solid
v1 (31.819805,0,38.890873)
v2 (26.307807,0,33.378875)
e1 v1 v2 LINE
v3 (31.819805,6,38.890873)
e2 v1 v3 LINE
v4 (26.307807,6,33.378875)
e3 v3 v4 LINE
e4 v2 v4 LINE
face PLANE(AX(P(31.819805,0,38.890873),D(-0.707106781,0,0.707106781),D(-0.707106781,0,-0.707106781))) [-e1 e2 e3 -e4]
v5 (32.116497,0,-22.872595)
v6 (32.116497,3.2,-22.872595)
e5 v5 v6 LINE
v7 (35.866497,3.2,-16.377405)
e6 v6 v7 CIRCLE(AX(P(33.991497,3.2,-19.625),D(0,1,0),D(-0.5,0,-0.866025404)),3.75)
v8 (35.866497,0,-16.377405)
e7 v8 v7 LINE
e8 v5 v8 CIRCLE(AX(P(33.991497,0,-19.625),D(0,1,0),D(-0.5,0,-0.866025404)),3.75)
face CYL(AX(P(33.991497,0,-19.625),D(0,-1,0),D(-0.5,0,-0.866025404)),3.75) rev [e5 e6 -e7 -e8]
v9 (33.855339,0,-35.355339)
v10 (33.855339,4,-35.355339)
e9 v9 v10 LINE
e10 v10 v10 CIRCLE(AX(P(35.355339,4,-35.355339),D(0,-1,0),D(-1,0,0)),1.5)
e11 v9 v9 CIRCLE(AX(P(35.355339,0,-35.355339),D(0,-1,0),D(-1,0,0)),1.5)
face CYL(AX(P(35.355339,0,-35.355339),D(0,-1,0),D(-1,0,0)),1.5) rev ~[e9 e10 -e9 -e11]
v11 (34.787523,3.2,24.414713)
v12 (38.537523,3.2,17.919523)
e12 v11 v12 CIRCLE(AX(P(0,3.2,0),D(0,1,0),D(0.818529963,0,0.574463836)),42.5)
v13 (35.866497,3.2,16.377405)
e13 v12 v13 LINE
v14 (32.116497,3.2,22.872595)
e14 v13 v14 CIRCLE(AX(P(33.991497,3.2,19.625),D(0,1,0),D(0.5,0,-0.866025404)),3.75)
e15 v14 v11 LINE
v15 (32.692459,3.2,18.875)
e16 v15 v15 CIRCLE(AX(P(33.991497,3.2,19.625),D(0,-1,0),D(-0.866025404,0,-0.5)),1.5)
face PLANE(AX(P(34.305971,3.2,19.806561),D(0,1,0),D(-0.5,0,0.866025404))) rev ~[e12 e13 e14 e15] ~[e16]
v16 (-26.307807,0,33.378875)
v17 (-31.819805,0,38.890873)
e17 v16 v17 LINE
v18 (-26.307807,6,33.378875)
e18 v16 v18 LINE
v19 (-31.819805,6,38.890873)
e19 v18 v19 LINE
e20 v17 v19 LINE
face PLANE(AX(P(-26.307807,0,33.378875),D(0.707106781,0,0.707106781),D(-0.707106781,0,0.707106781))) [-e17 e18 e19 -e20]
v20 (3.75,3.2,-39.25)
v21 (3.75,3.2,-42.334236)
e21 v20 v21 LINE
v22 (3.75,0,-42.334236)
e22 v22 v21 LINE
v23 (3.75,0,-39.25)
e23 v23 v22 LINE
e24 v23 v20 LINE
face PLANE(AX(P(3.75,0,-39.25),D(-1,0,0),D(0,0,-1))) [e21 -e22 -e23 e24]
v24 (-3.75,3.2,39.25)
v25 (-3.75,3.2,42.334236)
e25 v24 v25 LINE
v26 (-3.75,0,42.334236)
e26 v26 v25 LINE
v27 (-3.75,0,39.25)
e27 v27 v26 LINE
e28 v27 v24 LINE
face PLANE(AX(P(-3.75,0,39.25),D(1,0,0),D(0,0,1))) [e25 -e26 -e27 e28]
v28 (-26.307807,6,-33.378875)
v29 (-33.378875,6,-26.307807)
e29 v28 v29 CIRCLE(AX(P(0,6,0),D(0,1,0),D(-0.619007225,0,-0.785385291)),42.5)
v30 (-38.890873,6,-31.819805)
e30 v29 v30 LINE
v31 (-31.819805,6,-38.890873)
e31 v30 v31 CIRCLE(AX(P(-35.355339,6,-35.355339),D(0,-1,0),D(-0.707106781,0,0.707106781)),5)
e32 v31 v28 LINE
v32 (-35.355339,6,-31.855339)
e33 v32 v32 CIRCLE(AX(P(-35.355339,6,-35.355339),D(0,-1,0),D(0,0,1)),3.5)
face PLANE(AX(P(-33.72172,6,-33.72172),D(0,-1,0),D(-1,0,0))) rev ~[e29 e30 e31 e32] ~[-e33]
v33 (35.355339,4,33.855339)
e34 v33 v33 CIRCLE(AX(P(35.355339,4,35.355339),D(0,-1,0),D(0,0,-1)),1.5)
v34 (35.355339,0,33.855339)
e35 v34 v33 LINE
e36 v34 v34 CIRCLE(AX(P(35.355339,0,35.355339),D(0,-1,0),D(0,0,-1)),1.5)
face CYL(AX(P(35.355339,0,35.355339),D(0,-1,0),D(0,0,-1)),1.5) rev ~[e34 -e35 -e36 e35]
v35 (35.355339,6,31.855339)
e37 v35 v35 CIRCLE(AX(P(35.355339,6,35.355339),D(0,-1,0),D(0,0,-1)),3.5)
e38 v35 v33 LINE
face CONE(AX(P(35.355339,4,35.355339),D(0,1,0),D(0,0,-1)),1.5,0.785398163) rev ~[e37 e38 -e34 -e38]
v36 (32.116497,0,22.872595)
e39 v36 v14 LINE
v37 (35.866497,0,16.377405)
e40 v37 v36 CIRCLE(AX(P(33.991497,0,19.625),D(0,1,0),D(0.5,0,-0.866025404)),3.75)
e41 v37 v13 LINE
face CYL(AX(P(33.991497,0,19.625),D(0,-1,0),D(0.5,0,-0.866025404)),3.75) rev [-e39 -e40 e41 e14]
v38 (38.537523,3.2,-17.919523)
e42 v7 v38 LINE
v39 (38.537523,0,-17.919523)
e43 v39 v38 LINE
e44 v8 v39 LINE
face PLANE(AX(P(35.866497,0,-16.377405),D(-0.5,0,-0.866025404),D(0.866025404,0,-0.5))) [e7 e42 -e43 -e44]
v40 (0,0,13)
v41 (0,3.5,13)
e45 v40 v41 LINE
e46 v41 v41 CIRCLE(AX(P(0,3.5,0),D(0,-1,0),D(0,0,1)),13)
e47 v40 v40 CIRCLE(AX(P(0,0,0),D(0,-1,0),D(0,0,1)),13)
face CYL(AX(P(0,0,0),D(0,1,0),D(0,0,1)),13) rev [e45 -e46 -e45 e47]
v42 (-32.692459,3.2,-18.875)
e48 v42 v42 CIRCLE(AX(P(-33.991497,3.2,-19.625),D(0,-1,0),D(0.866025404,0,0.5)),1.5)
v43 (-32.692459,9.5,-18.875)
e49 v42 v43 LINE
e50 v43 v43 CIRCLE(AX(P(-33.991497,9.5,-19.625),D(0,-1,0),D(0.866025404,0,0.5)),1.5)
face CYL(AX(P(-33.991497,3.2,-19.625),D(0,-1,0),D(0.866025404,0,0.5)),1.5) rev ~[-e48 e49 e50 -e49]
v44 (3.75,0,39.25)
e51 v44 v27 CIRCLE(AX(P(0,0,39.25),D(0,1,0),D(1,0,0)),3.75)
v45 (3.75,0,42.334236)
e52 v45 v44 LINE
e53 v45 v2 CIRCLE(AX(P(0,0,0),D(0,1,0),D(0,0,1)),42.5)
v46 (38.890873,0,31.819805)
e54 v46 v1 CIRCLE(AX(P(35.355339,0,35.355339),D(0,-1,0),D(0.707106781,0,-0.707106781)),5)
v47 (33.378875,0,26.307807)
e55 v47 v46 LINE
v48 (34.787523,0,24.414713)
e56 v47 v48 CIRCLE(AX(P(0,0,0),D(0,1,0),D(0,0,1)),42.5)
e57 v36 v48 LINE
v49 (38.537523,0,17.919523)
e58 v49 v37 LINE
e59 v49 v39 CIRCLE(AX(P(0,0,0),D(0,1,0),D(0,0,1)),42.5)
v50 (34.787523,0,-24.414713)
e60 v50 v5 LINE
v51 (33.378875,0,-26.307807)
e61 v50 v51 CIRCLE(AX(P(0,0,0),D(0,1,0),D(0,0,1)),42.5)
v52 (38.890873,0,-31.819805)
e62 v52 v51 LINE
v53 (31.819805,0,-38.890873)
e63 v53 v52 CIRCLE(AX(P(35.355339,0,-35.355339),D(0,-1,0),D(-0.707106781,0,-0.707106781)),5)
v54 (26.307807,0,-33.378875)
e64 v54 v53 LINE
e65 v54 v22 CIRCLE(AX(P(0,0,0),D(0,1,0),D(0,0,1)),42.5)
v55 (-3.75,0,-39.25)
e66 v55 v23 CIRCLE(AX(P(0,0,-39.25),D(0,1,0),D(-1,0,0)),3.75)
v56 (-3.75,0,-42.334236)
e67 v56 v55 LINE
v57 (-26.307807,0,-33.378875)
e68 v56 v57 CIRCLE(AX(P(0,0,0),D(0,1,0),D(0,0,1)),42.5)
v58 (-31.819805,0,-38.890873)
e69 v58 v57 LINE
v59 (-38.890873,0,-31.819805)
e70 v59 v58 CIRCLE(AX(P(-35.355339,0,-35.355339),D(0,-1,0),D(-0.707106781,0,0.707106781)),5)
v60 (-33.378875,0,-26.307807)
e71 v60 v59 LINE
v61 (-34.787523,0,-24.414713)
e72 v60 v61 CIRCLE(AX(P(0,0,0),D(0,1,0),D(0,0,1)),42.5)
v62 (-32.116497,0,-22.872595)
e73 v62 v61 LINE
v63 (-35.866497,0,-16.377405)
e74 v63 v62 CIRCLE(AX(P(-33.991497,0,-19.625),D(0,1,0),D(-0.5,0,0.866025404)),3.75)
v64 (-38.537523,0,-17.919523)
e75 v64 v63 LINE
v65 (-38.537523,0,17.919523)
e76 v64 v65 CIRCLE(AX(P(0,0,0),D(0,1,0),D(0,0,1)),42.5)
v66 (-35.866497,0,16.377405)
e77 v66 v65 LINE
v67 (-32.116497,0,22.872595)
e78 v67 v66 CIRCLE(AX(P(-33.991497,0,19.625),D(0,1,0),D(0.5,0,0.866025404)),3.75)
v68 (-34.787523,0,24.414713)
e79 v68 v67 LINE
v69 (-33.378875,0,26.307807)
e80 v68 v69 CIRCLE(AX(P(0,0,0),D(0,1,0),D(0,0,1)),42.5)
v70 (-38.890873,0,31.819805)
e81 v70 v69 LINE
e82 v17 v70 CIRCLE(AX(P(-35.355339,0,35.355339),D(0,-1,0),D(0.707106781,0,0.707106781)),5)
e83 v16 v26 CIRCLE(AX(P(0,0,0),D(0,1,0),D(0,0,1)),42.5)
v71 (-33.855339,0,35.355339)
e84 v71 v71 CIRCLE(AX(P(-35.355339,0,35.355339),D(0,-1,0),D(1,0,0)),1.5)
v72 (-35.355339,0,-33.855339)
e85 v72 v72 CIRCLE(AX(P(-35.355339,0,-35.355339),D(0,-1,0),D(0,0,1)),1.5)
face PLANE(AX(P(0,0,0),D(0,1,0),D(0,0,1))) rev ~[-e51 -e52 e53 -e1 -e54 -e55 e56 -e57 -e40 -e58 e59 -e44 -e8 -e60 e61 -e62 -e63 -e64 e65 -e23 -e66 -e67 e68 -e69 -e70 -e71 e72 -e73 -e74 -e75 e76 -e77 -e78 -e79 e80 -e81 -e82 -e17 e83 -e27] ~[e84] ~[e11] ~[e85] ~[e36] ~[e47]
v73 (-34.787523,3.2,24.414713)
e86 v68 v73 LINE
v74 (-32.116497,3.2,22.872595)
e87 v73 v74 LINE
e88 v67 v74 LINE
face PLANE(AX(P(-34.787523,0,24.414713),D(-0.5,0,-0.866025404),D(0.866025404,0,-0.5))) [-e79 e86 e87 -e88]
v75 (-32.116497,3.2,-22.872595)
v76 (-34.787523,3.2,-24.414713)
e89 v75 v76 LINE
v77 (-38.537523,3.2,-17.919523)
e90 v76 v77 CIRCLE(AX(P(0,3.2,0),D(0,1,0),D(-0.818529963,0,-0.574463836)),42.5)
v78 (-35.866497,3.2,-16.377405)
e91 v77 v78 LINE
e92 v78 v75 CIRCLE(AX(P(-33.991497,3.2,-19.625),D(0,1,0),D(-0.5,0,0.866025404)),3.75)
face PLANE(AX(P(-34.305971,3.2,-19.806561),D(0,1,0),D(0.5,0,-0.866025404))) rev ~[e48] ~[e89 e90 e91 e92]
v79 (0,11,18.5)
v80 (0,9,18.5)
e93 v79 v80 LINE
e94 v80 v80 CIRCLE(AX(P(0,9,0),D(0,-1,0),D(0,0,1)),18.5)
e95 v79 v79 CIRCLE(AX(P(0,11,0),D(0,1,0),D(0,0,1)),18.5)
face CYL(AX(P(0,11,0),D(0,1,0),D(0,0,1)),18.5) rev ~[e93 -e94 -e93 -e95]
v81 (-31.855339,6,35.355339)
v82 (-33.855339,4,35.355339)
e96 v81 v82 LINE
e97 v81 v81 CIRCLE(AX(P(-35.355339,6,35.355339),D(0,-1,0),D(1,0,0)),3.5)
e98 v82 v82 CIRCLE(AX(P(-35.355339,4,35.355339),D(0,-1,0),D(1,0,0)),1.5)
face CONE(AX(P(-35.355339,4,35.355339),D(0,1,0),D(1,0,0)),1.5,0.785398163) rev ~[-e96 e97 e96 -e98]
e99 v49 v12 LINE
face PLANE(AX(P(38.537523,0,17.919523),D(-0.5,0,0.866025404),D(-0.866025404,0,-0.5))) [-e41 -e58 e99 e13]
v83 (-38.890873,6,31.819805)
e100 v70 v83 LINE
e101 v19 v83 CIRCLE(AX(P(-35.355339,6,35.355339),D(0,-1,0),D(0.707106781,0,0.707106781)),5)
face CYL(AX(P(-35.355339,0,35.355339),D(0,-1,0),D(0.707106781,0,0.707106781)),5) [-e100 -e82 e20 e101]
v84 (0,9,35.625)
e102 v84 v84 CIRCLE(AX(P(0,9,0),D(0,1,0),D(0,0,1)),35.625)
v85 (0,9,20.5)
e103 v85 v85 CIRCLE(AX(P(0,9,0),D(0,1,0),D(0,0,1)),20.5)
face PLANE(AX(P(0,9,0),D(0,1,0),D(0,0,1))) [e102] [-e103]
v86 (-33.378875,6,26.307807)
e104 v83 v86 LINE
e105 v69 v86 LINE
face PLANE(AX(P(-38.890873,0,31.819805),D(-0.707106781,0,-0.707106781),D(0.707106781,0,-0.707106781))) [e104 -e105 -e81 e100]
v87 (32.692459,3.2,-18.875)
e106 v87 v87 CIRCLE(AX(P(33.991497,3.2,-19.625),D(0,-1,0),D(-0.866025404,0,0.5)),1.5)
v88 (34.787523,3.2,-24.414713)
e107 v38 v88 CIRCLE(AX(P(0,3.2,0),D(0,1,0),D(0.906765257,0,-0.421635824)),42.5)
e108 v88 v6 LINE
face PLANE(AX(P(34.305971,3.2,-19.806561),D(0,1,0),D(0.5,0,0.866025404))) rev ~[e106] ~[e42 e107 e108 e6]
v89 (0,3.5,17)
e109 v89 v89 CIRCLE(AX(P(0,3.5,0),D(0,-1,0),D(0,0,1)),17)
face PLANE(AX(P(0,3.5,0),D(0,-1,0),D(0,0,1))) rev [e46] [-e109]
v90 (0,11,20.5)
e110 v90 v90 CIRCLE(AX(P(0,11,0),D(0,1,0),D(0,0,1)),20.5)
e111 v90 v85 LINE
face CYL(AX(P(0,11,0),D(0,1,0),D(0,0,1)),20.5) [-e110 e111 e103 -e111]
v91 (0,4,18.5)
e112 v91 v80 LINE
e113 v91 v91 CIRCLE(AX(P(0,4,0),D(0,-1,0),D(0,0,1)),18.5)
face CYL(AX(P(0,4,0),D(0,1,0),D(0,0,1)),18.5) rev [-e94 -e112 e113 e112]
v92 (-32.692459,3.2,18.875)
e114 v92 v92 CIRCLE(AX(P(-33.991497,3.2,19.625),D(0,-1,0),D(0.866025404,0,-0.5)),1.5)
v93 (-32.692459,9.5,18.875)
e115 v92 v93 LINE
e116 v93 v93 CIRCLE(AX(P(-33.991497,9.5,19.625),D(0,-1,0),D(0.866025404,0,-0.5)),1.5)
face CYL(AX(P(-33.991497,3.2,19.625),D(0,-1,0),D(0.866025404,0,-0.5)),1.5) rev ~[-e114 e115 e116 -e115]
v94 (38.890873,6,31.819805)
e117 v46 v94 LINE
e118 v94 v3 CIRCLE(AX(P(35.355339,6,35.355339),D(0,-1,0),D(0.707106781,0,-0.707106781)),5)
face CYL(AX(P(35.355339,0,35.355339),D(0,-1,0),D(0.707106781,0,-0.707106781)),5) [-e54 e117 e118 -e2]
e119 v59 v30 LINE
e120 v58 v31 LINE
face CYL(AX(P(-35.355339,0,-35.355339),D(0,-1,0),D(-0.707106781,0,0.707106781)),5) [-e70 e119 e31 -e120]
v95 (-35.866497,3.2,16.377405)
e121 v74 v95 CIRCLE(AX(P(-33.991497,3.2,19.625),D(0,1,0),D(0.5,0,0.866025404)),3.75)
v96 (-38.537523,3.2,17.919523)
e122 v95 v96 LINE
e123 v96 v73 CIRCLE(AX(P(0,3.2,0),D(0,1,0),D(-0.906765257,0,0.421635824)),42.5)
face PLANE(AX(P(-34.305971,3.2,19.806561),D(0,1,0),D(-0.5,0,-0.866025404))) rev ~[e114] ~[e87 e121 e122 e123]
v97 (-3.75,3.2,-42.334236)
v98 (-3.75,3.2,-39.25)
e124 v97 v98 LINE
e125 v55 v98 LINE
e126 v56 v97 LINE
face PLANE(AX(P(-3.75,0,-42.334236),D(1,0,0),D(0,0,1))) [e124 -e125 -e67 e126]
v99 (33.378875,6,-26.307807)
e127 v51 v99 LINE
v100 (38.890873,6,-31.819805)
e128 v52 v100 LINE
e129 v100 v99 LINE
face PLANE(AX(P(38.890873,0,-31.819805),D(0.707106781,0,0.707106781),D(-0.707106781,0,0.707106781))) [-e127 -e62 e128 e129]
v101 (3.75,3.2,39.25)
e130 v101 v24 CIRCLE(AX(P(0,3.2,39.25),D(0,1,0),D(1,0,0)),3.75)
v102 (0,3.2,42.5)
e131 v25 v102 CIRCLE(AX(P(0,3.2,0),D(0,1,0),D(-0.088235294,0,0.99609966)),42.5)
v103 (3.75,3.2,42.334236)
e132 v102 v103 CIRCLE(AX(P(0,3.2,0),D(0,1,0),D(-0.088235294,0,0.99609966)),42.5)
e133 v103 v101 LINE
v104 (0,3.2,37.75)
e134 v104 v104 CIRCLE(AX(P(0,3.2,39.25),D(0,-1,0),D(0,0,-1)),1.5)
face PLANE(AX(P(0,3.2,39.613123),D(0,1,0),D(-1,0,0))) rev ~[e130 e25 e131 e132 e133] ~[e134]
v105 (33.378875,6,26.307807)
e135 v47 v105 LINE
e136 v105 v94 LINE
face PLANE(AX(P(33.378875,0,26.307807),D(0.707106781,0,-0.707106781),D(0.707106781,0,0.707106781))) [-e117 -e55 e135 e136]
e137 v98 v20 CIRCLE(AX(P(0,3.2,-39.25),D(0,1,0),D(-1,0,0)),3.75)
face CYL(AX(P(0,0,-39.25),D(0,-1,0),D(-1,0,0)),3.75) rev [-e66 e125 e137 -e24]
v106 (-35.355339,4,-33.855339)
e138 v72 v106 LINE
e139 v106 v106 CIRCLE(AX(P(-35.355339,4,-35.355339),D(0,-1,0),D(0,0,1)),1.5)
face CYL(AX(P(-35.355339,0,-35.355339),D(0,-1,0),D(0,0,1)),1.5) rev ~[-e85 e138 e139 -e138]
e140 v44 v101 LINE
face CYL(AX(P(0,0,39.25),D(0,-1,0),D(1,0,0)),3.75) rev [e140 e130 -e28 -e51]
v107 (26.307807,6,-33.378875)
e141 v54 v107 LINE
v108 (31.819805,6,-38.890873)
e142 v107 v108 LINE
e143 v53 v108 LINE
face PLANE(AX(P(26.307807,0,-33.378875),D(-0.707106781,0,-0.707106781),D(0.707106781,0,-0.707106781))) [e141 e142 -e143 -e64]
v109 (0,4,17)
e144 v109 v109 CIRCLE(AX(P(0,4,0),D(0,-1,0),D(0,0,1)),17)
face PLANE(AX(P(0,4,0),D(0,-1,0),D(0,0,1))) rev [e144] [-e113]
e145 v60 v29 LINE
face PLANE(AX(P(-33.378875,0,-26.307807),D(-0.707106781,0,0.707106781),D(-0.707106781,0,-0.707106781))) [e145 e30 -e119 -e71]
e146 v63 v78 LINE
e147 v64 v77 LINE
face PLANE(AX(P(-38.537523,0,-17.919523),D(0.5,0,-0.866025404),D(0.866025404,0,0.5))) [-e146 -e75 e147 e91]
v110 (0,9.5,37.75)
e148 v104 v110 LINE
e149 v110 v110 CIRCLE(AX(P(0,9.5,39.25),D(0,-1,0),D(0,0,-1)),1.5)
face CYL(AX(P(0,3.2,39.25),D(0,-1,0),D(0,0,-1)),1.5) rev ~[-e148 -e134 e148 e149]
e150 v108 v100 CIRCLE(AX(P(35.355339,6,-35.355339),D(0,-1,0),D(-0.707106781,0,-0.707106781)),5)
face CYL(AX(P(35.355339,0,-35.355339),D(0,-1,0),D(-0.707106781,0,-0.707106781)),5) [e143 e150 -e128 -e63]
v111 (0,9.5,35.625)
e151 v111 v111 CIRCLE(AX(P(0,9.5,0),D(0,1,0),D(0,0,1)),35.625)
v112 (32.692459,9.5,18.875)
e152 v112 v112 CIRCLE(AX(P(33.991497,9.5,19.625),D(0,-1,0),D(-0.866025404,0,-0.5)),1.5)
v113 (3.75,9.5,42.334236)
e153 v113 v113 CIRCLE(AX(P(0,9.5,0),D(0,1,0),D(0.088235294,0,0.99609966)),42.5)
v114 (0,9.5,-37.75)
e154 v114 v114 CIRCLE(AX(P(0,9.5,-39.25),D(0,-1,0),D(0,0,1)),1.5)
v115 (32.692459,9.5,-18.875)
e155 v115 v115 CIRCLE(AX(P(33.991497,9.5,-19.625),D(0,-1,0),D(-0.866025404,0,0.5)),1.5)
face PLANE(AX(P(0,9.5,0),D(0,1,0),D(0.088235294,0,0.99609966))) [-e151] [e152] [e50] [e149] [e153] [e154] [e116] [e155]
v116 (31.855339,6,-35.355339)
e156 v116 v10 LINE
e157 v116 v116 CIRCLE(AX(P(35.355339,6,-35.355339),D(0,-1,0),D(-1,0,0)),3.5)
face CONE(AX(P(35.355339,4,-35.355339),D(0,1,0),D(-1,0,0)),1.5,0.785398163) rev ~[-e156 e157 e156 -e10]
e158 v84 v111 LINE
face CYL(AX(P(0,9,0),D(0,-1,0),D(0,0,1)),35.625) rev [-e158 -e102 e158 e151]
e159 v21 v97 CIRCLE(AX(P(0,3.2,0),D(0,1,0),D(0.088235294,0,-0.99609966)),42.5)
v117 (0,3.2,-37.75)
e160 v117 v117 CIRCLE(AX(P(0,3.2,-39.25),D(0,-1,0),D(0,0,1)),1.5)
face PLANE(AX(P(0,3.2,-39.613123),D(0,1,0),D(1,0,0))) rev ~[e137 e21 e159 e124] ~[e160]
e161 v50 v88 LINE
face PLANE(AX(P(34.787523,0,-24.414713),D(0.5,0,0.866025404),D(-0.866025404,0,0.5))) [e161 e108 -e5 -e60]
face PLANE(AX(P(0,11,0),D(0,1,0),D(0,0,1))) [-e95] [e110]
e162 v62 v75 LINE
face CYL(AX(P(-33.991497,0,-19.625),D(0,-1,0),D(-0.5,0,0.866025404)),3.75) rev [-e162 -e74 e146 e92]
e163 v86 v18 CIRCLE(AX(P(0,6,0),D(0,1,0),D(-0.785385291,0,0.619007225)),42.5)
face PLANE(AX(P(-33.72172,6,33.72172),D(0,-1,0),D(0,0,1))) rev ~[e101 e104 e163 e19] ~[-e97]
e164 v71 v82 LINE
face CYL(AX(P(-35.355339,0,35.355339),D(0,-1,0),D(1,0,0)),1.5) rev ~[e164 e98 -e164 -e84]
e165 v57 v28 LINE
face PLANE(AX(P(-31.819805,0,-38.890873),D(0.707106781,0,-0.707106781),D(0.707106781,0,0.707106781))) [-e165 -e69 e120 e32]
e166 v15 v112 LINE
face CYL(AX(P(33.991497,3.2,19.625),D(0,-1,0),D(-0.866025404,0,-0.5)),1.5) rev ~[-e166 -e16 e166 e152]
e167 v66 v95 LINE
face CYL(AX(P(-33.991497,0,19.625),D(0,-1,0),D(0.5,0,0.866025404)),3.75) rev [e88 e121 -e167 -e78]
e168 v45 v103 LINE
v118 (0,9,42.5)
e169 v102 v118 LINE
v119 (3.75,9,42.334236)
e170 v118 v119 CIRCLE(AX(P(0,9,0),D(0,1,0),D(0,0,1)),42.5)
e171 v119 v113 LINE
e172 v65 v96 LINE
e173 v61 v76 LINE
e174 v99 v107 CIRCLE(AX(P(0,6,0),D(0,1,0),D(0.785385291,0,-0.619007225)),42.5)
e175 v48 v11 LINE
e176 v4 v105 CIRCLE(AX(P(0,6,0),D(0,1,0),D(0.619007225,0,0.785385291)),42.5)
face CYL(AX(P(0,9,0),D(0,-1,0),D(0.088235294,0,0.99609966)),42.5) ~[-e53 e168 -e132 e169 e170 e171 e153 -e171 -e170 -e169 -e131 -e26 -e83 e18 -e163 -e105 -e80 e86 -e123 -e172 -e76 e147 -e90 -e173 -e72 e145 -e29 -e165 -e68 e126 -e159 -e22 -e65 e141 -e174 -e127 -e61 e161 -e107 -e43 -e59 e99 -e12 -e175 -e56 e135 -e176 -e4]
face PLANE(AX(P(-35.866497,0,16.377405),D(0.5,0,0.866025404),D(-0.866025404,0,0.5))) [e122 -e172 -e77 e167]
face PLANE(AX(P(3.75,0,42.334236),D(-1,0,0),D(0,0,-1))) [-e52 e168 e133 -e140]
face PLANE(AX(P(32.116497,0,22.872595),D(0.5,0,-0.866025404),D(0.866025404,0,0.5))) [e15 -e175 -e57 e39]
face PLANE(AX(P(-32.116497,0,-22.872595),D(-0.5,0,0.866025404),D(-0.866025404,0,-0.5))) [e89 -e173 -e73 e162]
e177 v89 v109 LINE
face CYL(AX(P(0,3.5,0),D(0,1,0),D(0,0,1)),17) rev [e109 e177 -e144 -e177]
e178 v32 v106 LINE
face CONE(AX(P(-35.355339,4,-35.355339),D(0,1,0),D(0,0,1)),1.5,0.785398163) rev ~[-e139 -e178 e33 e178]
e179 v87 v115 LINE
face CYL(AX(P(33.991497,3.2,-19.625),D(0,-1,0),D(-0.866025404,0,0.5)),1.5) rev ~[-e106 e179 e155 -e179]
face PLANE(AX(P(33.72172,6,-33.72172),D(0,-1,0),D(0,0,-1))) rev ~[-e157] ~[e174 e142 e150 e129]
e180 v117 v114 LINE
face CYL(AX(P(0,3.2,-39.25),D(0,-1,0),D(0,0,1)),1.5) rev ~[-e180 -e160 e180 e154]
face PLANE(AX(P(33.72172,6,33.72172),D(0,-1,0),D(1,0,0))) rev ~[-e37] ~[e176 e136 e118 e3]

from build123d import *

# Parameters (mm, degrees)
ESBO_O1_R                = 42.5
RESSALTO_EXTRUS_O1_DEPTH = 9
RESSALTO_EXTRUS_O2_START = 2
ESBO_O3_R                = 20.5
ESBO_O3_R_2              = 18.5
RESSALTO_EXTRUS_O2_DEPTH = 2
CORTE_EXTRUS_O1_DEPTH    = 3.2
ESBO_O9_R                = 42.5
ESBO_O9_R_2              = 35.625
RESSALTO_EXTRUS_O4_DEPTH = 0.5
ESBO_O5_R                = 1.5
CORTE_EXTRUS_O2_DEPTH    = 10
PADR_OCIRCULAR1_COUNT    = 6
RESSALTO_EXTRUS_O3_DEPTH = 6
ESBO_O8_R                = 1.5
CORTE_EXTRUS_O3_DEPTH    = 10
PADR_OCIRCULAR2_COUNT    = 4
CHANFRO1_SIZE            = 2


with BuildPart() as part:
    # Esboço1 → Ressalto-extrusão1 (new body)
    with BuildSketch(Plane(origin=(0, 0, 0), x_dir=(1, 0, 0), z_dir=(0, 1, 0))):
        with Locations(Location((0, 0, 0), (0, 0, 270))):
            Circle(ESBO_O1_R)
    extrude(amount=RESSALTO_EXTRUS_O1_DEPTH)

    # Esboço2 → Corte-Revolução1 (revolve, cut)
    with BuildSketch(Plane(origin=(0, 0, 0), x_dir=(0, 0, -1), z_dir=(1, 0, 0))):
        Polygon((0, 0), (-13, 0), (-13, 3.5), (-17, 3.5), (-17, 4), (-18.5, 4), (-18.5, 9), (0, 9), align=None)
    revolve(axis=Axis((0, 9, 0), (0, -1, 0)), mode=Mode.SUBTRACT)

    # Esboço3 → Ressalto-extrusão2 (add)
    with BuildSketch(Plane(origin=(0, 9, 0), x_dir=(1, 0, 0), z_dir=(0, 1, 0)).offset(RESSALTO_EXTRUS_O2_START)):
        with Locations(Location((0, 0, 0), (0, 0, 270))):
            Circle(ESBO_O3_R)
        with Locations(Location((0, 0, 0), (0, 0, 270))):
            Circle(ESBO_O3_R_2, mode=Mode.SUBTRACT)
    extrude(amount=-RESSALTO_EXTRUS_O2_DEPTH)

    # Esboço4 → Corte-extrusão1 (cut)
    with BuildSketch(Plane.XZ):
        with BuildLine():
            Line((-3.75, 39.25), (-3.75, 42.334235555))
            ThreePointArc((-3.75, 42.334235555), (0, 42.5), (3.75, 42.334235555))
            Line((3.75, 42.334235555), (3.75, 39.25))
            ThreePointArc((3.75, 39.25), (0, 35.5), (-3.75, 39.25))
        make_face()
    corte_extrus_o1 = extrude(amount=-CORTE_EXTRUS_O1_DEPTH, mode=Mode.SUBTRACT)

    # Esboço9 → Ressalto-extrusão4 (add)
    with BuildSketch(Plane(origin=(0, 9, 0), x_dir=(1, 0, 0), z_dir=(0, 1, 0))):
        with Locations(Location((0, 0, 0), (0, 0, 275.062092964))):
            Circle(ESBO_O9_R)
        with Locations(Location((0, 0, 0), (0, 0, 270))):
            Circle(ESBO_O9_R_2, mode=Mode.SUBTRACT)
    extrude(amount=RESSALTO_EXTRUS_O4_DEPTH)

    # Esboço5 → Corte-extrusão2 (cut)
    with BuildSketch(Plane.XZ.offset(-3.2)):
        with Locations(Location((0, 39.25, 0), (0, 0, 270))):
            Circle(ESBO_O5_R)
    corte_extrus_o2 = extrude(amount=-CORTE_EXTRUS_O2_DEPTH, mode=Mode.SUBTRACT)

    # PadrãoCircular1: Corte-extrusão1, Corte-extrusão2 ×6 about axis
    padr_ocircular1_axis = Axis((0, 0, 0), (0, 1, 0))
    add([corte_extrus_o1.rotate(padr_ocircular1_axis, i * 360 / PADR_OCIRCULAR1_COUNT) for i in range(1, PADR_OCIRCULAR1_COUNT)], mode=Mode.SUBTRACT)
    add([corte_extrus_o2.rotate(padr_ocircular1_axis, i * 360 / PADR_OCIRCULAR1_COUNT) for i in range(1, PADR_OCIRCULAR1_COUNT)], mode=Mode.SUBTRACT)

    # Esboço6 → Ressalto-extrusão3 (add)
    with BuildSketch(Plane.XZ):
        with BuildLine():
            ThreePointArc((38.890872965, 31.819805153), (38.890872965, 38.890872965), (31.819805153, 38.890872965))
            Line((31.819805153, 38.890872965), (26.30780706, 33.378874872))
            ThreePointArc((26.30780706, 33.378874872), (30.0520382, 30.0520382), (33.378874872, 26.30780706))
            Line((33.378874872, 26.30780706), (38.890872965, 31.819805153))
        make_face()
    ressalto_extrus_o3 = extrude(amount=-RESSALTO_EXTRUS_O3_DEPTH)

    # Esboço8 → Corte-extrusão3 (cut)
    with BuildSketch(Plane.XZ):
        with Locations(Location((35.355339059, 35.355339059, 0), (0, 0, 270))):
            Circle(ESBO_O8_R)
    corte_extrus_o3 = extrude(amount=-CORTE_EXTRUS_O3_DEPTH, mode=Mode.SUBTRACT)

    # PadrãoCircular2: Ressalto-extrusão3, Corte-extrusão3 ×4 about axis
    padr_ocircular2_axis = Axis((0, 0, 0), (0, 1, 0))
    add([ressalto_extrus_o3.rotate(padr_ocircular2_axis, i * 360 / PADR_OCIRCULAR2_COUNT) for i in range(1, PADR_OCIRCULAR2_COUNT)])
    add([corte_extrus_o3.rotate(padr_ocircular2_axis, i * 360 / PADR_OCIRCULAR2_COUNT) for i in range(1, PADR_OCIRCULAR2_COUNT)], mode=Mode.SUBTRACT)

    # Chanfro1
    chanfro1_edges = [part.edges().sort_by_distance(p)[0] for p in [
        (35.355339059, 6, 36.855339059),
        (-36.855339059, 6, 35.355339059),
        (-35.355339059, 6, -36.855339059),
        (36.855339059, 6, -35.355339059),
    ]]
    chamfer(chanfro1_edges, length=CHANFRO1_SIZE)


solid = part.part
